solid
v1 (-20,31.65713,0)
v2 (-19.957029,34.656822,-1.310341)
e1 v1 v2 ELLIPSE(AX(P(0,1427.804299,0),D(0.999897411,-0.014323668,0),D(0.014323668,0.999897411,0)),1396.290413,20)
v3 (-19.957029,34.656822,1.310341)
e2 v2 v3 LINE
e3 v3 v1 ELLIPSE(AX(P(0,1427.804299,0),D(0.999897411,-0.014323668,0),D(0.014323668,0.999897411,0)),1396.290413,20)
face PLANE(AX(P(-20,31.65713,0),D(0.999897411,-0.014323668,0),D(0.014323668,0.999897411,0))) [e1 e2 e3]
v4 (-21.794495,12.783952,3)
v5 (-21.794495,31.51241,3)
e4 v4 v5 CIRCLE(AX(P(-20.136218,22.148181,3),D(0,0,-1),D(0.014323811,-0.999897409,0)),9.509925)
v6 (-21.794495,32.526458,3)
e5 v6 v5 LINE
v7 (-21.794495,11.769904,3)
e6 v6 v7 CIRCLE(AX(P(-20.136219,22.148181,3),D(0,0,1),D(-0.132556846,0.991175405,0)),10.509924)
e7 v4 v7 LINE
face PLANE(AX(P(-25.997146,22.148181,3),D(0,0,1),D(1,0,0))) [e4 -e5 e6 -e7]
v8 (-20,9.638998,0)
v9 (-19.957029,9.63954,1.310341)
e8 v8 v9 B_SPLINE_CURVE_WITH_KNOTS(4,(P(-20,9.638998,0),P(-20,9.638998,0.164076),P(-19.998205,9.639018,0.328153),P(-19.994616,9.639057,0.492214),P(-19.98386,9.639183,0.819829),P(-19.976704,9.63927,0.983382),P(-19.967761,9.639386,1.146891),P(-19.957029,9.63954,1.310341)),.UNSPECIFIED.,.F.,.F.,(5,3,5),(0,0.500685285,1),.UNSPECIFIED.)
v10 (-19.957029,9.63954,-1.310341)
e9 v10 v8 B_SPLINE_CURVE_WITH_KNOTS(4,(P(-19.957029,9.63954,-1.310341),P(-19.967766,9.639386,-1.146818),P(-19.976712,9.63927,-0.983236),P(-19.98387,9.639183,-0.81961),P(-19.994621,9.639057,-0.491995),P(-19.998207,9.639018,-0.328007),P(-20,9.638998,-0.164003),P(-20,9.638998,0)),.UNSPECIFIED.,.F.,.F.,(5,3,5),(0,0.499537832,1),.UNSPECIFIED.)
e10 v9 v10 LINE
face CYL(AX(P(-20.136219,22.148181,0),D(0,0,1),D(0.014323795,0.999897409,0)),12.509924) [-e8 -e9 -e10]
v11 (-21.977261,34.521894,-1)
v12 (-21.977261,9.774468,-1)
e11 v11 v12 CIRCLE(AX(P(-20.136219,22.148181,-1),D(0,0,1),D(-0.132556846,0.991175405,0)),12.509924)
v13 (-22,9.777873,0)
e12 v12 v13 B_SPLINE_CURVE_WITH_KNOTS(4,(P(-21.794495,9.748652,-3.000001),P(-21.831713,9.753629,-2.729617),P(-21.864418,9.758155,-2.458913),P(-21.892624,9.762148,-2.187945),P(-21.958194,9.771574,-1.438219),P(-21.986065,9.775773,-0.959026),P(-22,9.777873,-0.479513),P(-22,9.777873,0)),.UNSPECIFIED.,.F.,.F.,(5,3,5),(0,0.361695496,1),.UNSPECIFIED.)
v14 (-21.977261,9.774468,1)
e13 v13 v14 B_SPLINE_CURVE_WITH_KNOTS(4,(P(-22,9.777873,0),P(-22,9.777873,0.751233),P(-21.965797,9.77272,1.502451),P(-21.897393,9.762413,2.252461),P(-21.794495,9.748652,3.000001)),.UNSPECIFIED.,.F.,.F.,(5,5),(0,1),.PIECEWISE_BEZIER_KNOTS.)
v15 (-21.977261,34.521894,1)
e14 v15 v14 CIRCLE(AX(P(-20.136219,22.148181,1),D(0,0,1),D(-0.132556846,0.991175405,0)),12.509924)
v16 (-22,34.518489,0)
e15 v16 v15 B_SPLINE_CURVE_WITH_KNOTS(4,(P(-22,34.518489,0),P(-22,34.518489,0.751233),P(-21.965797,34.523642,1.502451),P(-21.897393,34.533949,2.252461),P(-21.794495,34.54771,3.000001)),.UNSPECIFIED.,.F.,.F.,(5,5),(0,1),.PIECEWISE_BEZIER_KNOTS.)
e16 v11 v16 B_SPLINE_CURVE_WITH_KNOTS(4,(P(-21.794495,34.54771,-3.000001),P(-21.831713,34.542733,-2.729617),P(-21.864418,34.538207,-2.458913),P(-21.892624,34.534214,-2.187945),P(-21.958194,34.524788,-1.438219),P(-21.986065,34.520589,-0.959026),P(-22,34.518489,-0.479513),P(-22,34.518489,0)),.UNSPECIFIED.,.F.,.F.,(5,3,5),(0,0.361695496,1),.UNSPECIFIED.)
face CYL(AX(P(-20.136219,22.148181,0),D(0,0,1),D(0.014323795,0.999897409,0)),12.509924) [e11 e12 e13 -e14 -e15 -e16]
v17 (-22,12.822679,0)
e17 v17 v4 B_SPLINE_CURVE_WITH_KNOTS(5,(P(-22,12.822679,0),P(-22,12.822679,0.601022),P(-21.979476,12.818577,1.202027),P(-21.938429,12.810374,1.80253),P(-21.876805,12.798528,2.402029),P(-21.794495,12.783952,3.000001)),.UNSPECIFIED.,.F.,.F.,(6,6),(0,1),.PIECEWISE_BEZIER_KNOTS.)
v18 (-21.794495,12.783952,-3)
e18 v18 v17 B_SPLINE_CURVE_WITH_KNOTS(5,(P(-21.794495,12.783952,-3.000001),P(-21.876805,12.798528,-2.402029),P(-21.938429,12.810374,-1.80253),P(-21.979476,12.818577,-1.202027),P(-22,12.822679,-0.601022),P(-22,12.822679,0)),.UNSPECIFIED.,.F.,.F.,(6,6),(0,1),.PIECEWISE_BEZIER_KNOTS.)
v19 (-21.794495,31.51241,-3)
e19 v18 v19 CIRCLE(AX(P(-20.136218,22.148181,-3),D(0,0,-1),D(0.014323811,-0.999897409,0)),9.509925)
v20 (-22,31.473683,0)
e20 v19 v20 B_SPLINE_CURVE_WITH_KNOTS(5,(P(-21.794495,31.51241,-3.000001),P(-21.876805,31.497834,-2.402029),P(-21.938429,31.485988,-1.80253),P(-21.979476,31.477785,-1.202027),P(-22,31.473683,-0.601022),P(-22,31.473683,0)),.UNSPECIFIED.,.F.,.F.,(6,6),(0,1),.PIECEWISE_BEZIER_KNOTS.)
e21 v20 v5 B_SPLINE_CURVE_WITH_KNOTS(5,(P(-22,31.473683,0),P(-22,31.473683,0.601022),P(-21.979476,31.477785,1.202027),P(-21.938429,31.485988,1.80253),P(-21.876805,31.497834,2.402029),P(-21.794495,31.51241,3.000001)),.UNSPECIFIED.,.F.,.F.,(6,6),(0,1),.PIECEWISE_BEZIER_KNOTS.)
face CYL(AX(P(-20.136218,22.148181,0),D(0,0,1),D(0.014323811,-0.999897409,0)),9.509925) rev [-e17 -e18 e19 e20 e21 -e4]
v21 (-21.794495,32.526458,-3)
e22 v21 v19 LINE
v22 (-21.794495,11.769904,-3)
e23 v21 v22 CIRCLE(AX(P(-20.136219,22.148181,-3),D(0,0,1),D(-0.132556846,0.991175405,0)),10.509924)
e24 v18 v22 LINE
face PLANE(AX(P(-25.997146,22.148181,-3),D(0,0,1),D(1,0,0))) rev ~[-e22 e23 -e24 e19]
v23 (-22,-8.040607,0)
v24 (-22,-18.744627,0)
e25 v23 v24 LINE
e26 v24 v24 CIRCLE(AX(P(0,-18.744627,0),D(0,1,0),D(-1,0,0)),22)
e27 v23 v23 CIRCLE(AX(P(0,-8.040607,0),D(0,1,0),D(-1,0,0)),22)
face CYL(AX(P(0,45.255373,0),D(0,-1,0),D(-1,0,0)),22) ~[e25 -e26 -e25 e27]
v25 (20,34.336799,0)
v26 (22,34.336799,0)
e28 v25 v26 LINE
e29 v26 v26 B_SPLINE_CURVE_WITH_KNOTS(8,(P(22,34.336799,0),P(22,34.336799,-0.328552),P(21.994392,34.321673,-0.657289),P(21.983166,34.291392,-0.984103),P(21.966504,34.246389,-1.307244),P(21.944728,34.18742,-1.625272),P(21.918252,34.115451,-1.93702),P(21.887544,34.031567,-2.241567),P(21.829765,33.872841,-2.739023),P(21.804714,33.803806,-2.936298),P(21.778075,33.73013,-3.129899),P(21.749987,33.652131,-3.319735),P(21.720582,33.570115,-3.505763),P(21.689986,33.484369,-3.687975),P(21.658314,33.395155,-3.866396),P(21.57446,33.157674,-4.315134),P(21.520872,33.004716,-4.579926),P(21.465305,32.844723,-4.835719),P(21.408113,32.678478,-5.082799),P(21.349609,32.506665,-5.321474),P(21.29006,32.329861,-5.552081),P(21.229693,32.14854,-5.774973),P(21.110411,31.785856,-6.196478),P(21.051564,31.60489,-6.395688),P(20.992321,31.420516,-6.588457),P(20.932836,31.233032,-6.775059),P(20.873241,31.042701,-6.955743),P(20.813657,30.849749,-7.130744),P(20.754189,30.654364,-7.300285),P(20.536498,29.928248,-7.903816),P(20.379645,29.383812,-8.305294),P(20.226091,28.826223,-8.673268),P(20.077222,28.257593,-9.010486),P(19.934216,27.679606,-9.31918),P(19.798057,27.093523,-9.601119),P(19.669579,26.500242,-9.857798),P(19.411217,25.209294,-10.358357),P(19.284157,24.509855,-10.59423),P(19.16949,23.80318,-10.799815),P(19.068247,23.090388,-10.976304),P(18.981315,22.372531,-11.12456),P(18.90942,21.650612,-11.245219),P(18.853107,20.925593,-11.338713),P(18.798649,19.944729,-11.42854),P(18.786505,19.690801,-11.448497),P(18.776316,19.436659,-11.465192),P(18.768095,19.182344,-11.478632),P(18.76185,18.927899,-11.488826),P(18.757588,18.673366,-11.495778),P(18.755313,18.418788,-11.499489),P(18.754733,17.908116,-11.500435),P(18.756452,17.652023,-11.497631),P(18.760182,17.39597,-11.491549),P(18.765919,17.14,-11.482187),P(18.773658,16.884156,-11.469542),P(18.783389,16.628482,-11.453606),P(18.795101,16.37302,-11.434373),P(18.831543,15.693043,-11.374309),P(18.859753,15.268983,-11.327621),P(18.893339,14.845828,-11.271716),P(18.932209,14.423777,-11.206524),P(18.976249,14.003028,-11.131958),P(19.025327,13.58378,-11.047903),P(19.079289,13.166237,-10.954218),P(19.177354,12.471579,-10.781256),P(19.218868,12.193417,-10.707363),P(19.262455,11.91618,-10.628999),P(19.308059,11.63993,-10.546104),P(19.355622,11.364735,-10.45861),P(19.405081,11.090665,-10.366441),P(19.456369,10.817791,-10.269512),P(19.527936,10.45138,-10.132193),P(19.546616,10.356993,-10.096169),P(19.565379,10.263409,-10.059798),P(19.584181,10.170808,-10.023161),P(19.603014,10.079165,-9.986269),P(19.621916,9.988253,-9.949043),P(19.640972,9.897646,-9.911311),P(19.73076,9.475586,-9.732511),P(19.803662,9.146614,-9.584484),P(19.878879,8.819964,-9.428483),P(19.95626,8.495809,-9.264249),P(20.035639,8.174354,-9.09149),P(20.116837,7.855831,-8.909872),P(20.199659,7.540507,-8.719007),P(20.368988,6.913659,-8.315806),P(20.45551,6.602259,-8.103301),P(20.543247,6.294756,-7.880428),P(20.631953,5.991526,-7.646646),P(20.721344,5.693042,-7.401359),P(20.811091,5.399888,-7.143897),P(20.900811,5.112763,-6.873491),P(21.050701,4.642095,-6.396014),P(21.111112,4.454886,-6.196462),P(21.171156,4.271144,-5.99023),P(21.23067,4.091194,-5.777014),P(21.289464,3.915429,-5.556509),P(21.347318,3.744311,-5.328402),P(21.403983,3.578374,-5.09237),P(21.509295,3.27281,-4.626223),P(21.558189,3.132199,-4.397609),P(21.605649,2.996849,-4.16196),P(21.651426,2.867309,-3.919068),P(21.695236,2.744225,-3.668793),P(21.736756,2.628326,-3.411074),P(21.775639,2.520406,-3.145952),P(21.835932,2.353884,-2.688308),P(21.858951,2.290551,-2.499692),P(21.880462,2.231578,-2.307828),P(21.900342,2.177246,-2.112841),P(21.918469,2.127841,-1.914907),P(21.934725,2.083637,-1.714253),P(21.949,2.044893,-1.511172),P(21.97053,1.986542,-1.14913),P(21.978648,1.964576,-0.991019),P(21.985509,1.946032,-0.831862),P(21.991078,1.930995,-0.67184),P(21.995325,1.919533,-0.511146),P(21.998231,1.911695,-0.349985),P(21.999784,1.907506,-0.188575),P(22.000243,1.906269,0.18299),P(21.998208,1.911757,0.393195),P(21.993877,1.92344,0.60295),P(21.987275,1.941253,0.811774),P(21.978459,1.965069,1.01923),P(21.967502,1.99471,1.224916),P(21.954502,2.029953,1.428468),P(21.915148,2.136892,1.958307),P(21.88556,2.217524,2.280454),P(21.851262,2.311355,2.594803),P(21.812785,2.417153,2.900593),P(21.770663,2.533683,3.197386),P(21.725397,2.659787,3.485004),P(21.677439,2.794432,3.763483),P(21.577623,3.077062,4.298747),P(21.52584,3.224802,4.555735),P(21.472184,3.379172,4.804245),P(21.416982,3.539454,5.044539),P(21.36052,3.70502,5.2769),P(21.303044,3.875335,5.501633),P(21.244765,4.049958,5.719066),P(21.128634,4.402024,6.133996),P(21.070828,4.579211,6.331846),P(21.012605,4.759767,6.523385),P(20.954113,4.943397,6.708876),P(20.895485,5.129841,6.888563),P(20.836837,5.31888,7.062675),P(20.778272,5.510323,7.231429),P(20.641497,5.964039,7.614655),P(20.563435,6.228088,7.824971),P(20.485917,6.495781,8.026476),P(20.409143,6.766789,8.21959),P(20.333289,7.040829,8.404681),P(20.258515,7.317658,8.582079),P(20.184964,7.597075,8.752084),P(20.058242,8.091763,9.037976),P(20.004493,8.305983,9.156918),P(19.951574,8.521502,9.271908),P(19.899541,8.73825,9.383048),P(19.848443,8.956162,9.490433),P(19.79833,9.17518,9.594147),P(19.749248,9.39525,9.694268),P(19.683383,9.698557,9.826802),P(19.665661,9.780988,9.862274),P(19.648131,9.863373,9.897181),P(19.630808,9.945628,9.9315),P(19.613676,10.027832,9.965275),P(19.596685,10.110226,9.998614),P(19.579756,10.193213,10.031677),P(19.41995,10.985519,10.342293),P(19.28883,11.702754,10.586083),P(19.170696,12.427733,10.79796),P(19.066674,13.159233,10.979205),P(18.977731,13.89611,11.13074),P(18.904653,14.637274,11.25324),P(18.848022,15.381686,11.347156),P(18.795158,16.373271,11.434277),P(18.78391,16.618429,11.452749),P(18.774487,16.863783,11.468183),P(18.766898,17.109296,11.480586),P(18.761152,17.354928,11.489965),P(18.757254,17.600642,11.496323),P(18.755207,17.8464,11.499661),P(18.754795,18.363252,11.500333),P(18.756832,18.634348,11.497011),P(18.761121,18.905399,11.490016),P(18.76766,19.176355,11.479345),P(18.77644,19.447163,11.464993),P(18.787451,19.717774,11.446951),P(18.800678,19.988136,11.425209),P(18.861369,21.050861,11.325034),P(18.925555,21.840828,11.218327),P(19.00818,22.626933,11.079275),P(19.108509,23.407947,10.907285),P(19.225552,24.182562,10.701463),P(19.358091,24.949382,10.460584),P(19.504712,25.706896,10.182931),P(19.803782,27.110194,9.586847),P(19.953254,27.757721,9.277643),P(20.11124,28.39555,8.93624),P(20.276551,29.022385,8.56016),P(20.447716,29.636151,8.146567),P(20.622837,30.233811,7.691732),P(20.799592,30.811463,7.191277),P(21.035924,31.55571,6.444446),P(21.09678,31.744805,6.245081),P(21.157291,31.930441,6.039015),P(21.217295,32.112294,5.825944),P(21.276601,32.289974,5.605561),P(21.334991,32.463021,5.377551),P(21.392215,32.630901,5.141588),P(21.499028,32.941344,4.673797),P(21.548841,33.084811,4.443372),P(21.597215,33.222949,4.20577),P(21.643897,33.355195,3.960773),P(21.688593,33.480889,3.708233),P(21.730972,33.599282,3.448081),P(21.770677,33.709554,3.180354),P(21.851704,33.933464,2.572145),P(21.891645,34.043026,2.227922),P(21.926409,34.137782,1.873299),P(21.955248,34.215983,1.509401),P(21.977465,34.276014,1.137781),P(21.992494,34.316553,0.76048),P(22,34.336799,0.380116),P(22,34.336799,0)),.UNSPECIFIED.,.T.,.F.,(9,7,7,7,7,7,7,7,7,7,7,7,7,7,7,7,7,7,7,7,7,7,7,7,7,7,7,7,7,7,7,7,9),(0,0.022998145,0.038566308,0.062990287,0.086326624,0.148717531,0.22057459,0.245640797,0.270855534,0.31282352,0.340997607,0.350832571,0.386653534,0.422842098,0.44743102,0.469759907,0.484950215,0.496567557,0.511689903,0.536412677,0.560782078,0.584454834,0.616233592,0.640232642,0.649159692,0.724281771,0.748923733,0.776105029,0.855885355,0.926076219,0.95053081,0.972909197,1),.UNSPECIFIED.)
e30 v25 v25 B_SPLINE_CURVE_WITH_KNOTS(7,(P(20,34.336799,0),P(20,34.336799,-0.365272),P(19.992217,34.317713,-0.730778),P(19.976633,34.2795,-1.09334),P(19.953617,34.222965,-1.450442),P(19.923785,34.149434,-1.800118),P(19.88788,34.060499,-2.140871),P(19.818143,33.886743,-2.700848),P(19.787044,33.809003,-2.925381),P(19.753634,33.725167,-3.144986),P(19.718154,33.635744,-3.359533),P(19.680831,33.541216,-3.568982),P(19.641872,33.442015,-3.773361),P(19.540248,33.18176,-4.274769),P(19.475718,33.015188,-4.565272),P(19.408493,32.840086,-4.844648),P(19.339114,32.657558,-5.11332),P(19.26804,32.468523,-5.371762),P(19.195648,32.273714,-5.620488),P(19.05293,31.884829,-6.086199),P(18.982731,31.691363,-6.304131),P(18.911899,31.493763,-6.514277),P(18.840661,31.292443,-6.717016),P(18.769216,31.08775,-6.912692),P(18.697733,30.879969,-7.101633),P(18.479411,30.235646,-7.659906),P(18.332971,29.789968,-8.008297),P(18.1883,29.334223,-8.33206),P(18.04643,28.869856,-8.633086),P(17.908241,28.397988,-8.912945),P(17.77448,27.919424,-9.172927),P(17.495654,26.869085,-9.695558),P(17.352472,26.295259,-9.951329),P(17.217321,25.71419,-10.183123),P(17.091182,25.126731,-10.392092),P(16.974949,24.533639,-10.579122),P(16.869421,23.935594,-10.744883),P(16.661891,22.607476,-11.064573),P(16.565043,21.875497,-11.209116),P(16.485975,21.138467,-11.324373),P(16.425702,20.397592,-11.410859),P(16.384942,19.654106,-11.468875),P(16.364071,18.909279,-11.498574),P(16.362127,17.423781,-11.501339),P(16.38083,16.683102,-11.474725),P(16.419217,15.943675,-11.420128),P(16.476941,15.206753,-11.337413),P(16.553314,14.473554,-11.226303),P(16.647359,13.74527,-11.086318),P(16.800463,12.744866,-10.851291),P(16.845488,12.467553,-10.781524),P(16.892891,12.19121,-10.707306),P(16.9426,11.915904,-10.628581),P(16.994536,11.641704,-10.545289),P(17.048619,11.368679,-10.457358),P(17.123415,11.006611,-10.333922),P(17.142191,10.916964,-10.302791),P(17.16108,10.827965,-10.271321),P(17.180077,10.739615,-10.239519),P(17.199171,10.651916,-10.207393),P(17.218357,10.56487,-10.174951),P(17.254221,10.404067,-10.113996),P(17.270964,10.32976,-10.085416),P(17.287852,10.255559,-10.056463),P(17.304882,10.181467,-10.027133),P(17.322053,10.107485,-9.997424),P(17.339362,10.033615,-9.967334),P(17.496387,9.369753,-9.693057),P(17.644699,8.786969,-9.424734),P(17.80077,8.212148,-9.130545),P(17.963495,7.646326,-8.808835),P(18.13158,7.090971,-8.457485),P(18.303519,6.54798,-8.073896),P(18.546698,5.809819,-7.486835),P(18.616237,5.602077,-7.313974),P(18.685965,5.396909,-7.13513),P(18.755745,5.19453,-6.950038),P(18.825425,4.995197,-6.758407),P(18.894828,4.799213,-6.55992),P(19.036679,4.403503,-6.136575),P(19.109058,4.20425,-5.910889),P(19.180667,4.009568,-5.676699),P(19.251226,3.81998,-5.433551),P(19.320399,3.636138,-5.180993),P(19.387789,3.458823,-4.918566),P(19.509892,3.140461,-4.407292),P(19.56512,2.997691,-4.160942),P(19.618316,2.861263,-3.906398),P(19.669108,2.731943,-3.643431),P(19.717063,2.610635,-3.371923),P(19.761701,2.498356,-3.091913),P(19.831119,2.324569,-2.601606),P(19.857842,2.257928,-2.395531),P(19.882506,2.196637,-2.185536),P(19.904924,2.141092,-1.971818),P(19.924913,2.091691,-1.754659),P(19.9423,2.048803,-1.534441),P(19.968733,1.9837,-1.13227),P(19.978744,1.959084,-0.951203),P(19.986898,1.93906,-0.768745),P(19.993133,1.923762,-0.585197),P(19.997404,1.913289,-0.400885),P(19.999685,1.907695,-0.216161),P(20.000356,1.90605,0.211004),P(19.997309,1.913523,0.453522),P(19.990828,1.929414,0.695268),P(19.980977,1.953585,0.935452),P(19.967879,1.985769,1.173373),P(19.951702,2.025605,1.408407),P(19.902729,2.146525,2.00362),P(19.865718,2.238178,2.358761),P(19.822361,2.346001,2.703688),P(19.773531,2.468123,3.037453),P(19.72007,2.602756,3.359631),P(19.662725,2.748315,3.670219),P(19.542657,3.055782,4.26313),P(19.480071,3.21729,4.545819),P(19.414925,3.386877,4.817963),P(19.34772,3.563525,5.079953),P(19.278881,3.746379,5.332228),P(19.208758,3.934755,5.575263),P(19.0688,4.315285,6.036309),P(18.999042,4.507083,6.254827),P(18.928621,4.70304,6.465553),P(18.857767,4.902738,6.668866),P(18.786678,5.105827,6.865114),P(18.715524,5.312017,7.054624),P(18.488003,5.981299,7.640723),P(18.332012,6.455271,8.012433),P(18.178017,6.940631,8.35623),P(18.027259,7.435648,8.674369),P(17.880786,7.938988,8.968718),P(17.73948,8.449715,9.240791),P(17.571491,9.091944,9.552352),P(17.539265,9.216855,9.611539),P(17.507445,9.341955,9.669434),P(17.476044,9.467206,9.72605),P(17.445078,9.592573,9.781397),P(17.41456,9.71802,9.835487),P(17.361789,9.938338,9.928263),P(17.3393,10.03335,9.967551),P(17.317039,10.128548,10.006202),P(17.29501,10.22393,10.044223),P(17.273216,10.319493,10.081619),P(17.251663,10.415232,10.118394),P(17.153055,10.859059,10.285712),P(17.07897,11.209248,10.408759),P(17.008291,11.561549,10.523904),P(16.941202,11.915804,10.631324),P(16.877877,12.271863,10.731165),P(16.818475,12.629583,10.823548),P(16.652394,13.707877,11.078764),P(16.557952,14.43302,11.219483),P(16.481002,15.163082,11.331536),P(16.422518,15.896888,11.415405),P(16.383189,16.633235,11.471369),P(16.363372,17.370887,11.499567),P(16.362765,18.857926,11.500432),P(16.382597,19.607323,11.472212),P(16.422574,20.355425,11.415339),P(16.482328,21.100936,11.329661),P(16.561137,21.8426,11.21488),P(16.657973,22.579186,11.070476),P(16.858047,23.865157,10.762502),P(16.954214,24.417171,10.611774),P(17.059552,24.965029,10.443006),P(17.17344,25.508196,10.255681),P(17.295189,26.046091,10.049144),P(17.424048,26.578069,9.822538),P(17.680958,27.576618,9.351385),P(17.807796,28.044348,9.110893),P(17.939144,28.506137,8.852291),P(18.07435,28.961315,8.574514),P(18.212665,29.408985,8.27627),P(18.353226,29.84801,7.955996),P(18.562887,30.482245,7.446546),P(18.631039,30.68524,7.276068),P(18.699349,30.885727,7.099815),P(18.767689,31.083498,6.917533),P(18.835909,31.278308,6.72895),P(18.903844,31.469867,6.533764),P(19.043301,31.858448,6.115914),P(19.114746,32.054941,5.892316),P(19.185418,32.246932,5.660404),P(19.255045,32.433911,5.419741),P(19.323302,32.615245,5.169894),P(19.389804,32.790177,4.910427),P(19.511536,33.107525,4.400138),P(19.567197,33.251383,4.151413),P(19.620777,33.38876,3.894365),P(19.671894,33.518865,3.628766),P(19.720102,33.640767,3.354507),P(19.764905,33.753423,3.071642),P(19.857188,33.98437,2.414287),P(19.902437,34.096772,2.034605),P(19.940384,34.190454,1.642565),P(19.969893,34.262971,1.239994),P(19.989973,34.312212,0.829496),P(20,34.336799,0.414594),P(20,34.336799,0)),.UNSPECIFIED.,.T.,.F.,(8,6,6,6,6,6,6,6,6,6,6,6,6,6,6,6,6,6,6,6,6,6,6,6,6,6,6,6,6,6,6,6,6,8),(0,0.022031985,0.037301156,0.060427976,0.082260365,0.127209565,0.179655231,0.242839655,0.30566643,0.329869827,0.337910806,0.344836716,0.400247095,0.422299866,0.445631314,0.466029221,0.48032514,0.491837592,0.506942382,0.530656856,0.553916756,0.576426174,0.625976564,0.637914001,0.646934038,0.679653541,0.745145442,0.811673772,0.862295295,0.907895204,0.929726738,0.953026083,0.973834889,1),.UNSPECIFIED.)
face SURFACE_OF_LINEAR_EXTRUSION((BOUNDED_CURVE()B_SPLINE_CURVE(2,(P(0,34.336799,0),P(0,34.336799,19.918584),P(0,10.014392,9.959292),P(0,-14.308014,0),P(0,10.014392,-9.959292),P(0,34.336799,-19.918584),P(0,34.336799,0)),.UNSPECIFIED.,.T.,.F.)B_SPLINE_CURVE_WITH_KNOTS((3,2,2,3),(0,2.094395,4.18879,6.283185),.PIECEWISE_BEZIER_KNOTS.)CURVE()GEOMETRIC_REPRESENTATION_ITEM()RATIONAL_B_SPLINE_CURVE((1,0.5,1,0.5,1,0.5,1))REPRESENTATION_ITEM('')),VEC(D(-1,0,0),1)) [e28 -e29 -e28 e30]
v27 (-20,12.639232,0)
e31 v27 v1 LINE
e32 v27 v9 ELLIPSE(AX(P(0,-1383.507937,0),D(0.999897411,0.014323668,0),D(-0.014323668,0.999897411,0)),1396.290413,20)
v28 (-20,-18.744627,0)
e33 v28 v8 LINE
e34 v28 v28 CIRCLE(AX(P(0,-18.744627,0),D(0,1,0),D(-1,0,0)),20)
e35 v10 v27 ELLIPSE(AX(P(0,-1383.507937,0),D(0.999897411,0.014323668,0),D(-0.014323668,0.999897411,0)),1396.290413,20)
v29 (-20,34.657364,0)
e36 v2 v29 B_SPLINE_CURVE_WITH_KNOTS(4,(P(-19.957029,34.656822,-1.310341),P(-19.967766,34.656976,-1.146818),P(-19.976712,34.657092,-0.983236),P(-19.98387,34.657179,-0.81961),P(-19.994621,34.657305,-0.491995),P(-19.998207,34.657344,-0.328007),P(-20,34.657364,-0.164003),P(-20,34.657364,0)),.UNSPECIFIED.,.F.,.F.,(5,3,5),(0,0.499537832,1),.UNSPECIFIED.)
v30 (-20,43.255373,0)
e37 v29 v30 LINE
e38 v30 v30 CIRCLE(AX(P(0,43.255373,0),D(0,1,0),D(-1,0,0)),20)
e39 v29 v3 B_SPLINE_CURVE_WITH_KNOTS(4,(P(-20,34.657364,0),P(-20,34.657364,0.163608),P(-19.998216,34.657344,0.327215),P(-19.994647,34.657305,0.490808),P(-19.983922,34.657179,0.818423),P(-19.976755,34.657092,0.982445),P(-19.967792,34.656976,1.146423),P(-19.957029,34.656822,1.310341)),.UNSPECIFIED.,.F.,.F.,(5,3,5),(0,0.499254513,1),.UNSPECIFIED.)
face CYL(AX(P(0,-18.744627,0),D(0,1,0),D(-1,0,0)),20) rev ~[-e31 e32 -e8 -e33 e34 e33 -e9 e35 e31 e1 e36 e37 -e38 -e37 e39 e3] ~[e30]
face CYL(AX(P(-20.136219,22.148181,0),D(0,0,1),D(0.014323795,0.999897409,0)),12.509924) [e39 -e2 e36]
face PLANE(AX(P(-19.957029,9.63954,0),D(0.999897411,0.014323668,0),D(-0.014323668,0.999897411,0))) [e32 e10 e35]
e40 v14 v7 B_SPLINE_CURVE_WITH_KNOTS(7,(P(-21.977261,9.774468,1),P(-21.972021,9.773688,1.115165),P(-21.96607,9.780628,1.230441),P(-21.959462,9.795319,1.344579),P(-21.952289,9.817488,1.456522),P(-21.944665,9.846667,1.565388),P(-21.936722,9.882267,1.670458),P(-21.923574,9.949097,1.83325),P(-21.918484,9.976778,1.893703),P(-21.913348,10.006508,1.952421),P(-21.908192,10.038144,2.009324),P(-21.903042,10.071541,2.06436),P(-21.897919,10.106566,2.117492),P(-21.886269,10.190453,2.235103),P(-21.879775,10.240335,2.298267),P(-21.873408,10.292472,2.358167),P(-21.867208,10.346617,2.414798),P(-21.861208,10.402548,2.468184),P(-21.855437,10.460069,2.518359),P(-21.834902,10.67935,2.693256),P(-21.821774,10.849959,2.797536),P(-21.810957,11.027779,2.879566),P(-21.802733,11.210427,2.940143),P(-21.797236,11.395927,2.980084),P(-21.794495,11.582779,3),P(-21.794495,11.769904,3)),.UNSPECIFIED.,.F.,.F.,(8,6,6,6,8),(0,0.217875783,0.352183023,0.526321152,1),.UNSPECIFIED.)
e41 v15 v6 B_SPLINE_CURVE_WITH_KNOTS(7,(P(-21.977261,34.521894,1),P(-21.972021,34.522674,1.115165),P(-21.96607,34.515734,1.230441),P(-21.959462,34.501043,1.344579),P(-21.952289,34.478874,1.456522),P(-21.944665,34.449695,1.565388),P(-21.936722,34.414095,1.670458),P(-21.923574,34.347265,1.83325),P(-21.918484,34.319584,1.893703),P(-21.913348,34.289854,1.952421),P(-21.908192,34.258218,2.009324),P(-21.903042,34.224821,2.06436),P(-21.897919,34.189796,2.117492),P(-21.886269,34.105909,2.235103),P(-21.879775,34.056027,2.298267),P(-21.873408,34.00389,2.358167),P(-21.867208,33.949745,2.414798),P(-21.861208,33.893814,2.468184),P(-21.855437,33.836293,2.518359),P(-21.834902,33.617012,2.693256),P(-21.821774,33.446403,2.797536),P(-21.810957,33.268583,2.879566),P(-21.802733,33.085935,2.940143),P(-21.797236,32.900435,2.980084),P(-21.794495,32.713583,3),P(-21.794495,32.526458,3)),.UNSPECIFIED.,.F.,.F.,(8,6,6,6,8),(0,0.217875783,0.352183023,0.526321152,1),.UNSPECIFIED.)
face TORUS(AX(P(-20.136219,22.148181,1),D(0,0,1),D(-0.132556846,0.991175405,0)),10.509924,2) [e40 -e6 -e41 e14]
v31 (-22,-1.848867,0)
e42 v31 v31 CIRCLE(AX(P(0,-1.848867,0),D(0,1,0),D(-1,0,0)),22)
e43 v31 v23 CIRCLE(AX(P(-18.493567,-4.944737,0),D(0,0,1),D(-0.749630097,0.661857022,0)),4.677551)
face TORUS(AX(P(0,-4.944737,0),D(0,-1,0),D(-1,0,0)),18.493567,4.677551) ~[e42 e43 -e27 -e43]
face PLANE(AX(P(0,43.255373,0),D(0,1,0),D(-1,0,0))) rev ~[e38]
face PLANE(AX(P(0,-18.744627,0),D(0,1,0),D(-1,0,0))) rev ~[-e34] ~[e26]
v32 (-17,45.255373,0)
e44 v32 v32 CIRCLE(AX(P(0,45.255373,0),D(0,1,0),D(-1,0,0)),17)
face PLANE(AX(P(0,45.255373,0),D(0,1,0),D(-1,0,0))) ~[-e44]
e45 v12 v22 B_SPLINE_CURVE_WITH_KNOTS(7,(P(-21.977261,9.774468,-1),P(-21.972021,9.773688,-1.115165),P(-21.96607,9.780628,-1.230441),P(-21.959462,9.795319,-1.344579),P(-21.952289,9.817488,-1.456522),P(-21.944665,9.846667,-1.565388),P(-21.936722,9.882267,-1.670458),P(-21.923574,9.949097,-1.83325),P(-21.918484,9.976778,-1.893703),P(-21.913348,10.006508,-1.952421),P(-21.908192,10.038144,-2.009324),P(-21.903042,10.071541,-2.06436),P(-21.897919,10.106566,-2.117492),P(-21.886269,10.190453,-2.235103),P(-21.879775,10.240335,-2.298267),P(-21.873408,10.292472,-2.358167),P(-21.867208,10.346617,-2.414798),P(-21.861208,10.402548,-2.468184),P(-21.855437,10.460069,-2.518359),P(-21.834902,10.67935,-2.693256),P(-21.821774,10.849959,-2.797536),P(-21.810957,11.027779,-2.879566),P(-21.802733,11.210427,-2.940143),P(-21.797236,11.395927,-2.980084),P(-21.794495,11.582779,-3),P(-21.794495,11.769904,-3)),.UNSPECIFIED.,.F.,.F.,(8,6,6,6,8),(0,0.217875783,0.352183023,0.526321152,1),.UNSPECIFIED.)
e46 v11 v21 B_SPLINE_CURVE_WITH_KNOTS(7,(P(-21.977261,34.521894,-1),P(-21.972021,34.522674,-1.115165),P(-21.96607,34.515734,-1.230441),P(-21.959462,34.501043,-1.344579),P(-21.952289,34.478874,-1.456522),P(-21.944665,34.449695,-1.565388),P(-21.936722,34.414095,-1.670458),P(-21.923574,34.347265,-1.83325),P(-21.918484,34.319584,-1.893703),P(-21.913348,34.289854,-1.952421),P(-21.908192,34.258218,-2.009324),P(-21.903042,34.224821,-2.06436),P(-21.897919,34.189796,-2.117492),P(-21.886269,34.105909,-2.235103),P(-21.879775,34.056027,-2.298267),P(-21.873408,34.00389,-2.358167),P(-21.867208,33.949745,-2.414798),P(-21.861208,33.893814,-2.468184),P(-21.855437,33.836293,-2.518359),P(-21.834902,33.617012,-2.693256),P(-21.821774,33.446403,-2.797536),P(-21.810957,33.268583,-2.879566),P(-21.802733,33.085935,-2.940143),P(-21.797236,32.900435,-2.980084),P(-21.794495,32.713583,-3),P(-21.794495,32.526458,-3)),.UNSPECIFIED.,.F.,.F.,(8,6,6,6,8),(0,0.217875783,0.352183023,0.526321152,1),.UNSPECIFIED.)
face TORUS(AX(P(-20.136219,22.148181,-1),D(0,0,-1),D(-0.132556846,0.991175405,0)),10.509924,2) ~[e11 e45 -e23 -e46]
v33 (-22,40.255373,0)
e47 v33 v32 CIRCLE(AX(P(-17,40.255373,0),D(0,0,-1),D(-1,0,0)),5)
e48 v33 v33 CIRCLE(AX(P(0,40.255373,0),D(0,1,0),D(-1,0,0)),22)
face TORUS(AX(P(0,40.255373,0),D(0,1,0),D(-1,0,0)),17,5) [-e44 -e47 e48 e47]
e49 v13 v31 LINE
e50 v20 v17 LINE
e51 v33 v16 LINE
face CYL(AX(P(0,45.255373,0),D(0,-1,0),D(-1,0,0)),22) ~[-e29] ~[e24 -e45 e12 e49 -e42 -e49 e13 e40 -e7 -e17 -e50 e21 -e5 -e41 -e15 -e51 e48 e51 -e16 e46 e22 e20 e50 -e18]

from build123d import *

# Parameters (mm, degrees)
F3_DEPTH = 3
F4_R     = 5
F5_R     = 2
F7_DEPTH = 30


with BuildPart() as f1:
    # F0 (on Top) → F1 (revolve)
    with BuildSketch(Plane.XY):
        Polygon((-20, 43.255373), (0, 43.255373), (0, 45.255373), (-22, 45.255373), (-22, -1.848867), (-22, -8.040607), (-22, -18.744627), (-20, -18.744627), align=None)
        with BuildLine():
            Line((-22, -8.040607), (-22, -1.848867))
            ThreePointArc((-22, -1.848867), (-23.171118, -4.944737), (-22, -8.040607))
        make_face()
    revolve(axis=Axis((0, -2.109665, 0), (0, 1, 0)))

    # F2 (on Top) → F3 (join, symmetric)
    with BuildSketch(Plane.XY):
        with BuildLine():
            ThreePointArc((-20, 12.639232), (-29.646143, 22.148181), (-20, 31.65713))
            Line((-20, 31.65713), (-19.957029, 34.656822))
            ThreePointArc((-19.957029, 34.656822), (-32.646143, 22.148181), (-19.957029, 9.63954))
            Line((-19.957029, 9.63954), (-20, 12.639232))
        make_face()
    extrude(amount=F3_DEPTH, both=True)

    # F4
    f4_edges = [f1.edges().sort_by_distance(p)[0] for p in [
        (22, 45.255373, 0),
    ]]
    fillet(f4_edges, radius=F4_R)

    # F5
    f5_edges = [f1.edges().sort_by_distance(p)[0] for p in [
        (-32.646143, 22.148181, 3),
        (-32.646143, 22.148181, -3),
    ]]
    fillet(f5_edges, radius=F5_R)

    # F6 (on Right) → F7 (cut)
    with BuildSketch(Plane.YZ):
        with BuildLine():
            add(Edge.make_bspline(
                [(34.336799, 0), (34.336799, 19.918584), (10.014392, 9.959292), (-14.308014, 0), (10.014392, -9.959292), (34.336799, -19.918584), (34.336799, 0)],
                knots=[0, 0, 0, 2.094395, 2.094395, 4.18879, 4.18879, 6.283185, 6.283185, 6.283185], degree=2, weights=[1, 0.5, 1, 0.5, 1, 0.5, 1]))
        make_face()
    extrude(amount=F7_DEPTH, mode=Mode.SUBTRACT)


solid = f1.part
